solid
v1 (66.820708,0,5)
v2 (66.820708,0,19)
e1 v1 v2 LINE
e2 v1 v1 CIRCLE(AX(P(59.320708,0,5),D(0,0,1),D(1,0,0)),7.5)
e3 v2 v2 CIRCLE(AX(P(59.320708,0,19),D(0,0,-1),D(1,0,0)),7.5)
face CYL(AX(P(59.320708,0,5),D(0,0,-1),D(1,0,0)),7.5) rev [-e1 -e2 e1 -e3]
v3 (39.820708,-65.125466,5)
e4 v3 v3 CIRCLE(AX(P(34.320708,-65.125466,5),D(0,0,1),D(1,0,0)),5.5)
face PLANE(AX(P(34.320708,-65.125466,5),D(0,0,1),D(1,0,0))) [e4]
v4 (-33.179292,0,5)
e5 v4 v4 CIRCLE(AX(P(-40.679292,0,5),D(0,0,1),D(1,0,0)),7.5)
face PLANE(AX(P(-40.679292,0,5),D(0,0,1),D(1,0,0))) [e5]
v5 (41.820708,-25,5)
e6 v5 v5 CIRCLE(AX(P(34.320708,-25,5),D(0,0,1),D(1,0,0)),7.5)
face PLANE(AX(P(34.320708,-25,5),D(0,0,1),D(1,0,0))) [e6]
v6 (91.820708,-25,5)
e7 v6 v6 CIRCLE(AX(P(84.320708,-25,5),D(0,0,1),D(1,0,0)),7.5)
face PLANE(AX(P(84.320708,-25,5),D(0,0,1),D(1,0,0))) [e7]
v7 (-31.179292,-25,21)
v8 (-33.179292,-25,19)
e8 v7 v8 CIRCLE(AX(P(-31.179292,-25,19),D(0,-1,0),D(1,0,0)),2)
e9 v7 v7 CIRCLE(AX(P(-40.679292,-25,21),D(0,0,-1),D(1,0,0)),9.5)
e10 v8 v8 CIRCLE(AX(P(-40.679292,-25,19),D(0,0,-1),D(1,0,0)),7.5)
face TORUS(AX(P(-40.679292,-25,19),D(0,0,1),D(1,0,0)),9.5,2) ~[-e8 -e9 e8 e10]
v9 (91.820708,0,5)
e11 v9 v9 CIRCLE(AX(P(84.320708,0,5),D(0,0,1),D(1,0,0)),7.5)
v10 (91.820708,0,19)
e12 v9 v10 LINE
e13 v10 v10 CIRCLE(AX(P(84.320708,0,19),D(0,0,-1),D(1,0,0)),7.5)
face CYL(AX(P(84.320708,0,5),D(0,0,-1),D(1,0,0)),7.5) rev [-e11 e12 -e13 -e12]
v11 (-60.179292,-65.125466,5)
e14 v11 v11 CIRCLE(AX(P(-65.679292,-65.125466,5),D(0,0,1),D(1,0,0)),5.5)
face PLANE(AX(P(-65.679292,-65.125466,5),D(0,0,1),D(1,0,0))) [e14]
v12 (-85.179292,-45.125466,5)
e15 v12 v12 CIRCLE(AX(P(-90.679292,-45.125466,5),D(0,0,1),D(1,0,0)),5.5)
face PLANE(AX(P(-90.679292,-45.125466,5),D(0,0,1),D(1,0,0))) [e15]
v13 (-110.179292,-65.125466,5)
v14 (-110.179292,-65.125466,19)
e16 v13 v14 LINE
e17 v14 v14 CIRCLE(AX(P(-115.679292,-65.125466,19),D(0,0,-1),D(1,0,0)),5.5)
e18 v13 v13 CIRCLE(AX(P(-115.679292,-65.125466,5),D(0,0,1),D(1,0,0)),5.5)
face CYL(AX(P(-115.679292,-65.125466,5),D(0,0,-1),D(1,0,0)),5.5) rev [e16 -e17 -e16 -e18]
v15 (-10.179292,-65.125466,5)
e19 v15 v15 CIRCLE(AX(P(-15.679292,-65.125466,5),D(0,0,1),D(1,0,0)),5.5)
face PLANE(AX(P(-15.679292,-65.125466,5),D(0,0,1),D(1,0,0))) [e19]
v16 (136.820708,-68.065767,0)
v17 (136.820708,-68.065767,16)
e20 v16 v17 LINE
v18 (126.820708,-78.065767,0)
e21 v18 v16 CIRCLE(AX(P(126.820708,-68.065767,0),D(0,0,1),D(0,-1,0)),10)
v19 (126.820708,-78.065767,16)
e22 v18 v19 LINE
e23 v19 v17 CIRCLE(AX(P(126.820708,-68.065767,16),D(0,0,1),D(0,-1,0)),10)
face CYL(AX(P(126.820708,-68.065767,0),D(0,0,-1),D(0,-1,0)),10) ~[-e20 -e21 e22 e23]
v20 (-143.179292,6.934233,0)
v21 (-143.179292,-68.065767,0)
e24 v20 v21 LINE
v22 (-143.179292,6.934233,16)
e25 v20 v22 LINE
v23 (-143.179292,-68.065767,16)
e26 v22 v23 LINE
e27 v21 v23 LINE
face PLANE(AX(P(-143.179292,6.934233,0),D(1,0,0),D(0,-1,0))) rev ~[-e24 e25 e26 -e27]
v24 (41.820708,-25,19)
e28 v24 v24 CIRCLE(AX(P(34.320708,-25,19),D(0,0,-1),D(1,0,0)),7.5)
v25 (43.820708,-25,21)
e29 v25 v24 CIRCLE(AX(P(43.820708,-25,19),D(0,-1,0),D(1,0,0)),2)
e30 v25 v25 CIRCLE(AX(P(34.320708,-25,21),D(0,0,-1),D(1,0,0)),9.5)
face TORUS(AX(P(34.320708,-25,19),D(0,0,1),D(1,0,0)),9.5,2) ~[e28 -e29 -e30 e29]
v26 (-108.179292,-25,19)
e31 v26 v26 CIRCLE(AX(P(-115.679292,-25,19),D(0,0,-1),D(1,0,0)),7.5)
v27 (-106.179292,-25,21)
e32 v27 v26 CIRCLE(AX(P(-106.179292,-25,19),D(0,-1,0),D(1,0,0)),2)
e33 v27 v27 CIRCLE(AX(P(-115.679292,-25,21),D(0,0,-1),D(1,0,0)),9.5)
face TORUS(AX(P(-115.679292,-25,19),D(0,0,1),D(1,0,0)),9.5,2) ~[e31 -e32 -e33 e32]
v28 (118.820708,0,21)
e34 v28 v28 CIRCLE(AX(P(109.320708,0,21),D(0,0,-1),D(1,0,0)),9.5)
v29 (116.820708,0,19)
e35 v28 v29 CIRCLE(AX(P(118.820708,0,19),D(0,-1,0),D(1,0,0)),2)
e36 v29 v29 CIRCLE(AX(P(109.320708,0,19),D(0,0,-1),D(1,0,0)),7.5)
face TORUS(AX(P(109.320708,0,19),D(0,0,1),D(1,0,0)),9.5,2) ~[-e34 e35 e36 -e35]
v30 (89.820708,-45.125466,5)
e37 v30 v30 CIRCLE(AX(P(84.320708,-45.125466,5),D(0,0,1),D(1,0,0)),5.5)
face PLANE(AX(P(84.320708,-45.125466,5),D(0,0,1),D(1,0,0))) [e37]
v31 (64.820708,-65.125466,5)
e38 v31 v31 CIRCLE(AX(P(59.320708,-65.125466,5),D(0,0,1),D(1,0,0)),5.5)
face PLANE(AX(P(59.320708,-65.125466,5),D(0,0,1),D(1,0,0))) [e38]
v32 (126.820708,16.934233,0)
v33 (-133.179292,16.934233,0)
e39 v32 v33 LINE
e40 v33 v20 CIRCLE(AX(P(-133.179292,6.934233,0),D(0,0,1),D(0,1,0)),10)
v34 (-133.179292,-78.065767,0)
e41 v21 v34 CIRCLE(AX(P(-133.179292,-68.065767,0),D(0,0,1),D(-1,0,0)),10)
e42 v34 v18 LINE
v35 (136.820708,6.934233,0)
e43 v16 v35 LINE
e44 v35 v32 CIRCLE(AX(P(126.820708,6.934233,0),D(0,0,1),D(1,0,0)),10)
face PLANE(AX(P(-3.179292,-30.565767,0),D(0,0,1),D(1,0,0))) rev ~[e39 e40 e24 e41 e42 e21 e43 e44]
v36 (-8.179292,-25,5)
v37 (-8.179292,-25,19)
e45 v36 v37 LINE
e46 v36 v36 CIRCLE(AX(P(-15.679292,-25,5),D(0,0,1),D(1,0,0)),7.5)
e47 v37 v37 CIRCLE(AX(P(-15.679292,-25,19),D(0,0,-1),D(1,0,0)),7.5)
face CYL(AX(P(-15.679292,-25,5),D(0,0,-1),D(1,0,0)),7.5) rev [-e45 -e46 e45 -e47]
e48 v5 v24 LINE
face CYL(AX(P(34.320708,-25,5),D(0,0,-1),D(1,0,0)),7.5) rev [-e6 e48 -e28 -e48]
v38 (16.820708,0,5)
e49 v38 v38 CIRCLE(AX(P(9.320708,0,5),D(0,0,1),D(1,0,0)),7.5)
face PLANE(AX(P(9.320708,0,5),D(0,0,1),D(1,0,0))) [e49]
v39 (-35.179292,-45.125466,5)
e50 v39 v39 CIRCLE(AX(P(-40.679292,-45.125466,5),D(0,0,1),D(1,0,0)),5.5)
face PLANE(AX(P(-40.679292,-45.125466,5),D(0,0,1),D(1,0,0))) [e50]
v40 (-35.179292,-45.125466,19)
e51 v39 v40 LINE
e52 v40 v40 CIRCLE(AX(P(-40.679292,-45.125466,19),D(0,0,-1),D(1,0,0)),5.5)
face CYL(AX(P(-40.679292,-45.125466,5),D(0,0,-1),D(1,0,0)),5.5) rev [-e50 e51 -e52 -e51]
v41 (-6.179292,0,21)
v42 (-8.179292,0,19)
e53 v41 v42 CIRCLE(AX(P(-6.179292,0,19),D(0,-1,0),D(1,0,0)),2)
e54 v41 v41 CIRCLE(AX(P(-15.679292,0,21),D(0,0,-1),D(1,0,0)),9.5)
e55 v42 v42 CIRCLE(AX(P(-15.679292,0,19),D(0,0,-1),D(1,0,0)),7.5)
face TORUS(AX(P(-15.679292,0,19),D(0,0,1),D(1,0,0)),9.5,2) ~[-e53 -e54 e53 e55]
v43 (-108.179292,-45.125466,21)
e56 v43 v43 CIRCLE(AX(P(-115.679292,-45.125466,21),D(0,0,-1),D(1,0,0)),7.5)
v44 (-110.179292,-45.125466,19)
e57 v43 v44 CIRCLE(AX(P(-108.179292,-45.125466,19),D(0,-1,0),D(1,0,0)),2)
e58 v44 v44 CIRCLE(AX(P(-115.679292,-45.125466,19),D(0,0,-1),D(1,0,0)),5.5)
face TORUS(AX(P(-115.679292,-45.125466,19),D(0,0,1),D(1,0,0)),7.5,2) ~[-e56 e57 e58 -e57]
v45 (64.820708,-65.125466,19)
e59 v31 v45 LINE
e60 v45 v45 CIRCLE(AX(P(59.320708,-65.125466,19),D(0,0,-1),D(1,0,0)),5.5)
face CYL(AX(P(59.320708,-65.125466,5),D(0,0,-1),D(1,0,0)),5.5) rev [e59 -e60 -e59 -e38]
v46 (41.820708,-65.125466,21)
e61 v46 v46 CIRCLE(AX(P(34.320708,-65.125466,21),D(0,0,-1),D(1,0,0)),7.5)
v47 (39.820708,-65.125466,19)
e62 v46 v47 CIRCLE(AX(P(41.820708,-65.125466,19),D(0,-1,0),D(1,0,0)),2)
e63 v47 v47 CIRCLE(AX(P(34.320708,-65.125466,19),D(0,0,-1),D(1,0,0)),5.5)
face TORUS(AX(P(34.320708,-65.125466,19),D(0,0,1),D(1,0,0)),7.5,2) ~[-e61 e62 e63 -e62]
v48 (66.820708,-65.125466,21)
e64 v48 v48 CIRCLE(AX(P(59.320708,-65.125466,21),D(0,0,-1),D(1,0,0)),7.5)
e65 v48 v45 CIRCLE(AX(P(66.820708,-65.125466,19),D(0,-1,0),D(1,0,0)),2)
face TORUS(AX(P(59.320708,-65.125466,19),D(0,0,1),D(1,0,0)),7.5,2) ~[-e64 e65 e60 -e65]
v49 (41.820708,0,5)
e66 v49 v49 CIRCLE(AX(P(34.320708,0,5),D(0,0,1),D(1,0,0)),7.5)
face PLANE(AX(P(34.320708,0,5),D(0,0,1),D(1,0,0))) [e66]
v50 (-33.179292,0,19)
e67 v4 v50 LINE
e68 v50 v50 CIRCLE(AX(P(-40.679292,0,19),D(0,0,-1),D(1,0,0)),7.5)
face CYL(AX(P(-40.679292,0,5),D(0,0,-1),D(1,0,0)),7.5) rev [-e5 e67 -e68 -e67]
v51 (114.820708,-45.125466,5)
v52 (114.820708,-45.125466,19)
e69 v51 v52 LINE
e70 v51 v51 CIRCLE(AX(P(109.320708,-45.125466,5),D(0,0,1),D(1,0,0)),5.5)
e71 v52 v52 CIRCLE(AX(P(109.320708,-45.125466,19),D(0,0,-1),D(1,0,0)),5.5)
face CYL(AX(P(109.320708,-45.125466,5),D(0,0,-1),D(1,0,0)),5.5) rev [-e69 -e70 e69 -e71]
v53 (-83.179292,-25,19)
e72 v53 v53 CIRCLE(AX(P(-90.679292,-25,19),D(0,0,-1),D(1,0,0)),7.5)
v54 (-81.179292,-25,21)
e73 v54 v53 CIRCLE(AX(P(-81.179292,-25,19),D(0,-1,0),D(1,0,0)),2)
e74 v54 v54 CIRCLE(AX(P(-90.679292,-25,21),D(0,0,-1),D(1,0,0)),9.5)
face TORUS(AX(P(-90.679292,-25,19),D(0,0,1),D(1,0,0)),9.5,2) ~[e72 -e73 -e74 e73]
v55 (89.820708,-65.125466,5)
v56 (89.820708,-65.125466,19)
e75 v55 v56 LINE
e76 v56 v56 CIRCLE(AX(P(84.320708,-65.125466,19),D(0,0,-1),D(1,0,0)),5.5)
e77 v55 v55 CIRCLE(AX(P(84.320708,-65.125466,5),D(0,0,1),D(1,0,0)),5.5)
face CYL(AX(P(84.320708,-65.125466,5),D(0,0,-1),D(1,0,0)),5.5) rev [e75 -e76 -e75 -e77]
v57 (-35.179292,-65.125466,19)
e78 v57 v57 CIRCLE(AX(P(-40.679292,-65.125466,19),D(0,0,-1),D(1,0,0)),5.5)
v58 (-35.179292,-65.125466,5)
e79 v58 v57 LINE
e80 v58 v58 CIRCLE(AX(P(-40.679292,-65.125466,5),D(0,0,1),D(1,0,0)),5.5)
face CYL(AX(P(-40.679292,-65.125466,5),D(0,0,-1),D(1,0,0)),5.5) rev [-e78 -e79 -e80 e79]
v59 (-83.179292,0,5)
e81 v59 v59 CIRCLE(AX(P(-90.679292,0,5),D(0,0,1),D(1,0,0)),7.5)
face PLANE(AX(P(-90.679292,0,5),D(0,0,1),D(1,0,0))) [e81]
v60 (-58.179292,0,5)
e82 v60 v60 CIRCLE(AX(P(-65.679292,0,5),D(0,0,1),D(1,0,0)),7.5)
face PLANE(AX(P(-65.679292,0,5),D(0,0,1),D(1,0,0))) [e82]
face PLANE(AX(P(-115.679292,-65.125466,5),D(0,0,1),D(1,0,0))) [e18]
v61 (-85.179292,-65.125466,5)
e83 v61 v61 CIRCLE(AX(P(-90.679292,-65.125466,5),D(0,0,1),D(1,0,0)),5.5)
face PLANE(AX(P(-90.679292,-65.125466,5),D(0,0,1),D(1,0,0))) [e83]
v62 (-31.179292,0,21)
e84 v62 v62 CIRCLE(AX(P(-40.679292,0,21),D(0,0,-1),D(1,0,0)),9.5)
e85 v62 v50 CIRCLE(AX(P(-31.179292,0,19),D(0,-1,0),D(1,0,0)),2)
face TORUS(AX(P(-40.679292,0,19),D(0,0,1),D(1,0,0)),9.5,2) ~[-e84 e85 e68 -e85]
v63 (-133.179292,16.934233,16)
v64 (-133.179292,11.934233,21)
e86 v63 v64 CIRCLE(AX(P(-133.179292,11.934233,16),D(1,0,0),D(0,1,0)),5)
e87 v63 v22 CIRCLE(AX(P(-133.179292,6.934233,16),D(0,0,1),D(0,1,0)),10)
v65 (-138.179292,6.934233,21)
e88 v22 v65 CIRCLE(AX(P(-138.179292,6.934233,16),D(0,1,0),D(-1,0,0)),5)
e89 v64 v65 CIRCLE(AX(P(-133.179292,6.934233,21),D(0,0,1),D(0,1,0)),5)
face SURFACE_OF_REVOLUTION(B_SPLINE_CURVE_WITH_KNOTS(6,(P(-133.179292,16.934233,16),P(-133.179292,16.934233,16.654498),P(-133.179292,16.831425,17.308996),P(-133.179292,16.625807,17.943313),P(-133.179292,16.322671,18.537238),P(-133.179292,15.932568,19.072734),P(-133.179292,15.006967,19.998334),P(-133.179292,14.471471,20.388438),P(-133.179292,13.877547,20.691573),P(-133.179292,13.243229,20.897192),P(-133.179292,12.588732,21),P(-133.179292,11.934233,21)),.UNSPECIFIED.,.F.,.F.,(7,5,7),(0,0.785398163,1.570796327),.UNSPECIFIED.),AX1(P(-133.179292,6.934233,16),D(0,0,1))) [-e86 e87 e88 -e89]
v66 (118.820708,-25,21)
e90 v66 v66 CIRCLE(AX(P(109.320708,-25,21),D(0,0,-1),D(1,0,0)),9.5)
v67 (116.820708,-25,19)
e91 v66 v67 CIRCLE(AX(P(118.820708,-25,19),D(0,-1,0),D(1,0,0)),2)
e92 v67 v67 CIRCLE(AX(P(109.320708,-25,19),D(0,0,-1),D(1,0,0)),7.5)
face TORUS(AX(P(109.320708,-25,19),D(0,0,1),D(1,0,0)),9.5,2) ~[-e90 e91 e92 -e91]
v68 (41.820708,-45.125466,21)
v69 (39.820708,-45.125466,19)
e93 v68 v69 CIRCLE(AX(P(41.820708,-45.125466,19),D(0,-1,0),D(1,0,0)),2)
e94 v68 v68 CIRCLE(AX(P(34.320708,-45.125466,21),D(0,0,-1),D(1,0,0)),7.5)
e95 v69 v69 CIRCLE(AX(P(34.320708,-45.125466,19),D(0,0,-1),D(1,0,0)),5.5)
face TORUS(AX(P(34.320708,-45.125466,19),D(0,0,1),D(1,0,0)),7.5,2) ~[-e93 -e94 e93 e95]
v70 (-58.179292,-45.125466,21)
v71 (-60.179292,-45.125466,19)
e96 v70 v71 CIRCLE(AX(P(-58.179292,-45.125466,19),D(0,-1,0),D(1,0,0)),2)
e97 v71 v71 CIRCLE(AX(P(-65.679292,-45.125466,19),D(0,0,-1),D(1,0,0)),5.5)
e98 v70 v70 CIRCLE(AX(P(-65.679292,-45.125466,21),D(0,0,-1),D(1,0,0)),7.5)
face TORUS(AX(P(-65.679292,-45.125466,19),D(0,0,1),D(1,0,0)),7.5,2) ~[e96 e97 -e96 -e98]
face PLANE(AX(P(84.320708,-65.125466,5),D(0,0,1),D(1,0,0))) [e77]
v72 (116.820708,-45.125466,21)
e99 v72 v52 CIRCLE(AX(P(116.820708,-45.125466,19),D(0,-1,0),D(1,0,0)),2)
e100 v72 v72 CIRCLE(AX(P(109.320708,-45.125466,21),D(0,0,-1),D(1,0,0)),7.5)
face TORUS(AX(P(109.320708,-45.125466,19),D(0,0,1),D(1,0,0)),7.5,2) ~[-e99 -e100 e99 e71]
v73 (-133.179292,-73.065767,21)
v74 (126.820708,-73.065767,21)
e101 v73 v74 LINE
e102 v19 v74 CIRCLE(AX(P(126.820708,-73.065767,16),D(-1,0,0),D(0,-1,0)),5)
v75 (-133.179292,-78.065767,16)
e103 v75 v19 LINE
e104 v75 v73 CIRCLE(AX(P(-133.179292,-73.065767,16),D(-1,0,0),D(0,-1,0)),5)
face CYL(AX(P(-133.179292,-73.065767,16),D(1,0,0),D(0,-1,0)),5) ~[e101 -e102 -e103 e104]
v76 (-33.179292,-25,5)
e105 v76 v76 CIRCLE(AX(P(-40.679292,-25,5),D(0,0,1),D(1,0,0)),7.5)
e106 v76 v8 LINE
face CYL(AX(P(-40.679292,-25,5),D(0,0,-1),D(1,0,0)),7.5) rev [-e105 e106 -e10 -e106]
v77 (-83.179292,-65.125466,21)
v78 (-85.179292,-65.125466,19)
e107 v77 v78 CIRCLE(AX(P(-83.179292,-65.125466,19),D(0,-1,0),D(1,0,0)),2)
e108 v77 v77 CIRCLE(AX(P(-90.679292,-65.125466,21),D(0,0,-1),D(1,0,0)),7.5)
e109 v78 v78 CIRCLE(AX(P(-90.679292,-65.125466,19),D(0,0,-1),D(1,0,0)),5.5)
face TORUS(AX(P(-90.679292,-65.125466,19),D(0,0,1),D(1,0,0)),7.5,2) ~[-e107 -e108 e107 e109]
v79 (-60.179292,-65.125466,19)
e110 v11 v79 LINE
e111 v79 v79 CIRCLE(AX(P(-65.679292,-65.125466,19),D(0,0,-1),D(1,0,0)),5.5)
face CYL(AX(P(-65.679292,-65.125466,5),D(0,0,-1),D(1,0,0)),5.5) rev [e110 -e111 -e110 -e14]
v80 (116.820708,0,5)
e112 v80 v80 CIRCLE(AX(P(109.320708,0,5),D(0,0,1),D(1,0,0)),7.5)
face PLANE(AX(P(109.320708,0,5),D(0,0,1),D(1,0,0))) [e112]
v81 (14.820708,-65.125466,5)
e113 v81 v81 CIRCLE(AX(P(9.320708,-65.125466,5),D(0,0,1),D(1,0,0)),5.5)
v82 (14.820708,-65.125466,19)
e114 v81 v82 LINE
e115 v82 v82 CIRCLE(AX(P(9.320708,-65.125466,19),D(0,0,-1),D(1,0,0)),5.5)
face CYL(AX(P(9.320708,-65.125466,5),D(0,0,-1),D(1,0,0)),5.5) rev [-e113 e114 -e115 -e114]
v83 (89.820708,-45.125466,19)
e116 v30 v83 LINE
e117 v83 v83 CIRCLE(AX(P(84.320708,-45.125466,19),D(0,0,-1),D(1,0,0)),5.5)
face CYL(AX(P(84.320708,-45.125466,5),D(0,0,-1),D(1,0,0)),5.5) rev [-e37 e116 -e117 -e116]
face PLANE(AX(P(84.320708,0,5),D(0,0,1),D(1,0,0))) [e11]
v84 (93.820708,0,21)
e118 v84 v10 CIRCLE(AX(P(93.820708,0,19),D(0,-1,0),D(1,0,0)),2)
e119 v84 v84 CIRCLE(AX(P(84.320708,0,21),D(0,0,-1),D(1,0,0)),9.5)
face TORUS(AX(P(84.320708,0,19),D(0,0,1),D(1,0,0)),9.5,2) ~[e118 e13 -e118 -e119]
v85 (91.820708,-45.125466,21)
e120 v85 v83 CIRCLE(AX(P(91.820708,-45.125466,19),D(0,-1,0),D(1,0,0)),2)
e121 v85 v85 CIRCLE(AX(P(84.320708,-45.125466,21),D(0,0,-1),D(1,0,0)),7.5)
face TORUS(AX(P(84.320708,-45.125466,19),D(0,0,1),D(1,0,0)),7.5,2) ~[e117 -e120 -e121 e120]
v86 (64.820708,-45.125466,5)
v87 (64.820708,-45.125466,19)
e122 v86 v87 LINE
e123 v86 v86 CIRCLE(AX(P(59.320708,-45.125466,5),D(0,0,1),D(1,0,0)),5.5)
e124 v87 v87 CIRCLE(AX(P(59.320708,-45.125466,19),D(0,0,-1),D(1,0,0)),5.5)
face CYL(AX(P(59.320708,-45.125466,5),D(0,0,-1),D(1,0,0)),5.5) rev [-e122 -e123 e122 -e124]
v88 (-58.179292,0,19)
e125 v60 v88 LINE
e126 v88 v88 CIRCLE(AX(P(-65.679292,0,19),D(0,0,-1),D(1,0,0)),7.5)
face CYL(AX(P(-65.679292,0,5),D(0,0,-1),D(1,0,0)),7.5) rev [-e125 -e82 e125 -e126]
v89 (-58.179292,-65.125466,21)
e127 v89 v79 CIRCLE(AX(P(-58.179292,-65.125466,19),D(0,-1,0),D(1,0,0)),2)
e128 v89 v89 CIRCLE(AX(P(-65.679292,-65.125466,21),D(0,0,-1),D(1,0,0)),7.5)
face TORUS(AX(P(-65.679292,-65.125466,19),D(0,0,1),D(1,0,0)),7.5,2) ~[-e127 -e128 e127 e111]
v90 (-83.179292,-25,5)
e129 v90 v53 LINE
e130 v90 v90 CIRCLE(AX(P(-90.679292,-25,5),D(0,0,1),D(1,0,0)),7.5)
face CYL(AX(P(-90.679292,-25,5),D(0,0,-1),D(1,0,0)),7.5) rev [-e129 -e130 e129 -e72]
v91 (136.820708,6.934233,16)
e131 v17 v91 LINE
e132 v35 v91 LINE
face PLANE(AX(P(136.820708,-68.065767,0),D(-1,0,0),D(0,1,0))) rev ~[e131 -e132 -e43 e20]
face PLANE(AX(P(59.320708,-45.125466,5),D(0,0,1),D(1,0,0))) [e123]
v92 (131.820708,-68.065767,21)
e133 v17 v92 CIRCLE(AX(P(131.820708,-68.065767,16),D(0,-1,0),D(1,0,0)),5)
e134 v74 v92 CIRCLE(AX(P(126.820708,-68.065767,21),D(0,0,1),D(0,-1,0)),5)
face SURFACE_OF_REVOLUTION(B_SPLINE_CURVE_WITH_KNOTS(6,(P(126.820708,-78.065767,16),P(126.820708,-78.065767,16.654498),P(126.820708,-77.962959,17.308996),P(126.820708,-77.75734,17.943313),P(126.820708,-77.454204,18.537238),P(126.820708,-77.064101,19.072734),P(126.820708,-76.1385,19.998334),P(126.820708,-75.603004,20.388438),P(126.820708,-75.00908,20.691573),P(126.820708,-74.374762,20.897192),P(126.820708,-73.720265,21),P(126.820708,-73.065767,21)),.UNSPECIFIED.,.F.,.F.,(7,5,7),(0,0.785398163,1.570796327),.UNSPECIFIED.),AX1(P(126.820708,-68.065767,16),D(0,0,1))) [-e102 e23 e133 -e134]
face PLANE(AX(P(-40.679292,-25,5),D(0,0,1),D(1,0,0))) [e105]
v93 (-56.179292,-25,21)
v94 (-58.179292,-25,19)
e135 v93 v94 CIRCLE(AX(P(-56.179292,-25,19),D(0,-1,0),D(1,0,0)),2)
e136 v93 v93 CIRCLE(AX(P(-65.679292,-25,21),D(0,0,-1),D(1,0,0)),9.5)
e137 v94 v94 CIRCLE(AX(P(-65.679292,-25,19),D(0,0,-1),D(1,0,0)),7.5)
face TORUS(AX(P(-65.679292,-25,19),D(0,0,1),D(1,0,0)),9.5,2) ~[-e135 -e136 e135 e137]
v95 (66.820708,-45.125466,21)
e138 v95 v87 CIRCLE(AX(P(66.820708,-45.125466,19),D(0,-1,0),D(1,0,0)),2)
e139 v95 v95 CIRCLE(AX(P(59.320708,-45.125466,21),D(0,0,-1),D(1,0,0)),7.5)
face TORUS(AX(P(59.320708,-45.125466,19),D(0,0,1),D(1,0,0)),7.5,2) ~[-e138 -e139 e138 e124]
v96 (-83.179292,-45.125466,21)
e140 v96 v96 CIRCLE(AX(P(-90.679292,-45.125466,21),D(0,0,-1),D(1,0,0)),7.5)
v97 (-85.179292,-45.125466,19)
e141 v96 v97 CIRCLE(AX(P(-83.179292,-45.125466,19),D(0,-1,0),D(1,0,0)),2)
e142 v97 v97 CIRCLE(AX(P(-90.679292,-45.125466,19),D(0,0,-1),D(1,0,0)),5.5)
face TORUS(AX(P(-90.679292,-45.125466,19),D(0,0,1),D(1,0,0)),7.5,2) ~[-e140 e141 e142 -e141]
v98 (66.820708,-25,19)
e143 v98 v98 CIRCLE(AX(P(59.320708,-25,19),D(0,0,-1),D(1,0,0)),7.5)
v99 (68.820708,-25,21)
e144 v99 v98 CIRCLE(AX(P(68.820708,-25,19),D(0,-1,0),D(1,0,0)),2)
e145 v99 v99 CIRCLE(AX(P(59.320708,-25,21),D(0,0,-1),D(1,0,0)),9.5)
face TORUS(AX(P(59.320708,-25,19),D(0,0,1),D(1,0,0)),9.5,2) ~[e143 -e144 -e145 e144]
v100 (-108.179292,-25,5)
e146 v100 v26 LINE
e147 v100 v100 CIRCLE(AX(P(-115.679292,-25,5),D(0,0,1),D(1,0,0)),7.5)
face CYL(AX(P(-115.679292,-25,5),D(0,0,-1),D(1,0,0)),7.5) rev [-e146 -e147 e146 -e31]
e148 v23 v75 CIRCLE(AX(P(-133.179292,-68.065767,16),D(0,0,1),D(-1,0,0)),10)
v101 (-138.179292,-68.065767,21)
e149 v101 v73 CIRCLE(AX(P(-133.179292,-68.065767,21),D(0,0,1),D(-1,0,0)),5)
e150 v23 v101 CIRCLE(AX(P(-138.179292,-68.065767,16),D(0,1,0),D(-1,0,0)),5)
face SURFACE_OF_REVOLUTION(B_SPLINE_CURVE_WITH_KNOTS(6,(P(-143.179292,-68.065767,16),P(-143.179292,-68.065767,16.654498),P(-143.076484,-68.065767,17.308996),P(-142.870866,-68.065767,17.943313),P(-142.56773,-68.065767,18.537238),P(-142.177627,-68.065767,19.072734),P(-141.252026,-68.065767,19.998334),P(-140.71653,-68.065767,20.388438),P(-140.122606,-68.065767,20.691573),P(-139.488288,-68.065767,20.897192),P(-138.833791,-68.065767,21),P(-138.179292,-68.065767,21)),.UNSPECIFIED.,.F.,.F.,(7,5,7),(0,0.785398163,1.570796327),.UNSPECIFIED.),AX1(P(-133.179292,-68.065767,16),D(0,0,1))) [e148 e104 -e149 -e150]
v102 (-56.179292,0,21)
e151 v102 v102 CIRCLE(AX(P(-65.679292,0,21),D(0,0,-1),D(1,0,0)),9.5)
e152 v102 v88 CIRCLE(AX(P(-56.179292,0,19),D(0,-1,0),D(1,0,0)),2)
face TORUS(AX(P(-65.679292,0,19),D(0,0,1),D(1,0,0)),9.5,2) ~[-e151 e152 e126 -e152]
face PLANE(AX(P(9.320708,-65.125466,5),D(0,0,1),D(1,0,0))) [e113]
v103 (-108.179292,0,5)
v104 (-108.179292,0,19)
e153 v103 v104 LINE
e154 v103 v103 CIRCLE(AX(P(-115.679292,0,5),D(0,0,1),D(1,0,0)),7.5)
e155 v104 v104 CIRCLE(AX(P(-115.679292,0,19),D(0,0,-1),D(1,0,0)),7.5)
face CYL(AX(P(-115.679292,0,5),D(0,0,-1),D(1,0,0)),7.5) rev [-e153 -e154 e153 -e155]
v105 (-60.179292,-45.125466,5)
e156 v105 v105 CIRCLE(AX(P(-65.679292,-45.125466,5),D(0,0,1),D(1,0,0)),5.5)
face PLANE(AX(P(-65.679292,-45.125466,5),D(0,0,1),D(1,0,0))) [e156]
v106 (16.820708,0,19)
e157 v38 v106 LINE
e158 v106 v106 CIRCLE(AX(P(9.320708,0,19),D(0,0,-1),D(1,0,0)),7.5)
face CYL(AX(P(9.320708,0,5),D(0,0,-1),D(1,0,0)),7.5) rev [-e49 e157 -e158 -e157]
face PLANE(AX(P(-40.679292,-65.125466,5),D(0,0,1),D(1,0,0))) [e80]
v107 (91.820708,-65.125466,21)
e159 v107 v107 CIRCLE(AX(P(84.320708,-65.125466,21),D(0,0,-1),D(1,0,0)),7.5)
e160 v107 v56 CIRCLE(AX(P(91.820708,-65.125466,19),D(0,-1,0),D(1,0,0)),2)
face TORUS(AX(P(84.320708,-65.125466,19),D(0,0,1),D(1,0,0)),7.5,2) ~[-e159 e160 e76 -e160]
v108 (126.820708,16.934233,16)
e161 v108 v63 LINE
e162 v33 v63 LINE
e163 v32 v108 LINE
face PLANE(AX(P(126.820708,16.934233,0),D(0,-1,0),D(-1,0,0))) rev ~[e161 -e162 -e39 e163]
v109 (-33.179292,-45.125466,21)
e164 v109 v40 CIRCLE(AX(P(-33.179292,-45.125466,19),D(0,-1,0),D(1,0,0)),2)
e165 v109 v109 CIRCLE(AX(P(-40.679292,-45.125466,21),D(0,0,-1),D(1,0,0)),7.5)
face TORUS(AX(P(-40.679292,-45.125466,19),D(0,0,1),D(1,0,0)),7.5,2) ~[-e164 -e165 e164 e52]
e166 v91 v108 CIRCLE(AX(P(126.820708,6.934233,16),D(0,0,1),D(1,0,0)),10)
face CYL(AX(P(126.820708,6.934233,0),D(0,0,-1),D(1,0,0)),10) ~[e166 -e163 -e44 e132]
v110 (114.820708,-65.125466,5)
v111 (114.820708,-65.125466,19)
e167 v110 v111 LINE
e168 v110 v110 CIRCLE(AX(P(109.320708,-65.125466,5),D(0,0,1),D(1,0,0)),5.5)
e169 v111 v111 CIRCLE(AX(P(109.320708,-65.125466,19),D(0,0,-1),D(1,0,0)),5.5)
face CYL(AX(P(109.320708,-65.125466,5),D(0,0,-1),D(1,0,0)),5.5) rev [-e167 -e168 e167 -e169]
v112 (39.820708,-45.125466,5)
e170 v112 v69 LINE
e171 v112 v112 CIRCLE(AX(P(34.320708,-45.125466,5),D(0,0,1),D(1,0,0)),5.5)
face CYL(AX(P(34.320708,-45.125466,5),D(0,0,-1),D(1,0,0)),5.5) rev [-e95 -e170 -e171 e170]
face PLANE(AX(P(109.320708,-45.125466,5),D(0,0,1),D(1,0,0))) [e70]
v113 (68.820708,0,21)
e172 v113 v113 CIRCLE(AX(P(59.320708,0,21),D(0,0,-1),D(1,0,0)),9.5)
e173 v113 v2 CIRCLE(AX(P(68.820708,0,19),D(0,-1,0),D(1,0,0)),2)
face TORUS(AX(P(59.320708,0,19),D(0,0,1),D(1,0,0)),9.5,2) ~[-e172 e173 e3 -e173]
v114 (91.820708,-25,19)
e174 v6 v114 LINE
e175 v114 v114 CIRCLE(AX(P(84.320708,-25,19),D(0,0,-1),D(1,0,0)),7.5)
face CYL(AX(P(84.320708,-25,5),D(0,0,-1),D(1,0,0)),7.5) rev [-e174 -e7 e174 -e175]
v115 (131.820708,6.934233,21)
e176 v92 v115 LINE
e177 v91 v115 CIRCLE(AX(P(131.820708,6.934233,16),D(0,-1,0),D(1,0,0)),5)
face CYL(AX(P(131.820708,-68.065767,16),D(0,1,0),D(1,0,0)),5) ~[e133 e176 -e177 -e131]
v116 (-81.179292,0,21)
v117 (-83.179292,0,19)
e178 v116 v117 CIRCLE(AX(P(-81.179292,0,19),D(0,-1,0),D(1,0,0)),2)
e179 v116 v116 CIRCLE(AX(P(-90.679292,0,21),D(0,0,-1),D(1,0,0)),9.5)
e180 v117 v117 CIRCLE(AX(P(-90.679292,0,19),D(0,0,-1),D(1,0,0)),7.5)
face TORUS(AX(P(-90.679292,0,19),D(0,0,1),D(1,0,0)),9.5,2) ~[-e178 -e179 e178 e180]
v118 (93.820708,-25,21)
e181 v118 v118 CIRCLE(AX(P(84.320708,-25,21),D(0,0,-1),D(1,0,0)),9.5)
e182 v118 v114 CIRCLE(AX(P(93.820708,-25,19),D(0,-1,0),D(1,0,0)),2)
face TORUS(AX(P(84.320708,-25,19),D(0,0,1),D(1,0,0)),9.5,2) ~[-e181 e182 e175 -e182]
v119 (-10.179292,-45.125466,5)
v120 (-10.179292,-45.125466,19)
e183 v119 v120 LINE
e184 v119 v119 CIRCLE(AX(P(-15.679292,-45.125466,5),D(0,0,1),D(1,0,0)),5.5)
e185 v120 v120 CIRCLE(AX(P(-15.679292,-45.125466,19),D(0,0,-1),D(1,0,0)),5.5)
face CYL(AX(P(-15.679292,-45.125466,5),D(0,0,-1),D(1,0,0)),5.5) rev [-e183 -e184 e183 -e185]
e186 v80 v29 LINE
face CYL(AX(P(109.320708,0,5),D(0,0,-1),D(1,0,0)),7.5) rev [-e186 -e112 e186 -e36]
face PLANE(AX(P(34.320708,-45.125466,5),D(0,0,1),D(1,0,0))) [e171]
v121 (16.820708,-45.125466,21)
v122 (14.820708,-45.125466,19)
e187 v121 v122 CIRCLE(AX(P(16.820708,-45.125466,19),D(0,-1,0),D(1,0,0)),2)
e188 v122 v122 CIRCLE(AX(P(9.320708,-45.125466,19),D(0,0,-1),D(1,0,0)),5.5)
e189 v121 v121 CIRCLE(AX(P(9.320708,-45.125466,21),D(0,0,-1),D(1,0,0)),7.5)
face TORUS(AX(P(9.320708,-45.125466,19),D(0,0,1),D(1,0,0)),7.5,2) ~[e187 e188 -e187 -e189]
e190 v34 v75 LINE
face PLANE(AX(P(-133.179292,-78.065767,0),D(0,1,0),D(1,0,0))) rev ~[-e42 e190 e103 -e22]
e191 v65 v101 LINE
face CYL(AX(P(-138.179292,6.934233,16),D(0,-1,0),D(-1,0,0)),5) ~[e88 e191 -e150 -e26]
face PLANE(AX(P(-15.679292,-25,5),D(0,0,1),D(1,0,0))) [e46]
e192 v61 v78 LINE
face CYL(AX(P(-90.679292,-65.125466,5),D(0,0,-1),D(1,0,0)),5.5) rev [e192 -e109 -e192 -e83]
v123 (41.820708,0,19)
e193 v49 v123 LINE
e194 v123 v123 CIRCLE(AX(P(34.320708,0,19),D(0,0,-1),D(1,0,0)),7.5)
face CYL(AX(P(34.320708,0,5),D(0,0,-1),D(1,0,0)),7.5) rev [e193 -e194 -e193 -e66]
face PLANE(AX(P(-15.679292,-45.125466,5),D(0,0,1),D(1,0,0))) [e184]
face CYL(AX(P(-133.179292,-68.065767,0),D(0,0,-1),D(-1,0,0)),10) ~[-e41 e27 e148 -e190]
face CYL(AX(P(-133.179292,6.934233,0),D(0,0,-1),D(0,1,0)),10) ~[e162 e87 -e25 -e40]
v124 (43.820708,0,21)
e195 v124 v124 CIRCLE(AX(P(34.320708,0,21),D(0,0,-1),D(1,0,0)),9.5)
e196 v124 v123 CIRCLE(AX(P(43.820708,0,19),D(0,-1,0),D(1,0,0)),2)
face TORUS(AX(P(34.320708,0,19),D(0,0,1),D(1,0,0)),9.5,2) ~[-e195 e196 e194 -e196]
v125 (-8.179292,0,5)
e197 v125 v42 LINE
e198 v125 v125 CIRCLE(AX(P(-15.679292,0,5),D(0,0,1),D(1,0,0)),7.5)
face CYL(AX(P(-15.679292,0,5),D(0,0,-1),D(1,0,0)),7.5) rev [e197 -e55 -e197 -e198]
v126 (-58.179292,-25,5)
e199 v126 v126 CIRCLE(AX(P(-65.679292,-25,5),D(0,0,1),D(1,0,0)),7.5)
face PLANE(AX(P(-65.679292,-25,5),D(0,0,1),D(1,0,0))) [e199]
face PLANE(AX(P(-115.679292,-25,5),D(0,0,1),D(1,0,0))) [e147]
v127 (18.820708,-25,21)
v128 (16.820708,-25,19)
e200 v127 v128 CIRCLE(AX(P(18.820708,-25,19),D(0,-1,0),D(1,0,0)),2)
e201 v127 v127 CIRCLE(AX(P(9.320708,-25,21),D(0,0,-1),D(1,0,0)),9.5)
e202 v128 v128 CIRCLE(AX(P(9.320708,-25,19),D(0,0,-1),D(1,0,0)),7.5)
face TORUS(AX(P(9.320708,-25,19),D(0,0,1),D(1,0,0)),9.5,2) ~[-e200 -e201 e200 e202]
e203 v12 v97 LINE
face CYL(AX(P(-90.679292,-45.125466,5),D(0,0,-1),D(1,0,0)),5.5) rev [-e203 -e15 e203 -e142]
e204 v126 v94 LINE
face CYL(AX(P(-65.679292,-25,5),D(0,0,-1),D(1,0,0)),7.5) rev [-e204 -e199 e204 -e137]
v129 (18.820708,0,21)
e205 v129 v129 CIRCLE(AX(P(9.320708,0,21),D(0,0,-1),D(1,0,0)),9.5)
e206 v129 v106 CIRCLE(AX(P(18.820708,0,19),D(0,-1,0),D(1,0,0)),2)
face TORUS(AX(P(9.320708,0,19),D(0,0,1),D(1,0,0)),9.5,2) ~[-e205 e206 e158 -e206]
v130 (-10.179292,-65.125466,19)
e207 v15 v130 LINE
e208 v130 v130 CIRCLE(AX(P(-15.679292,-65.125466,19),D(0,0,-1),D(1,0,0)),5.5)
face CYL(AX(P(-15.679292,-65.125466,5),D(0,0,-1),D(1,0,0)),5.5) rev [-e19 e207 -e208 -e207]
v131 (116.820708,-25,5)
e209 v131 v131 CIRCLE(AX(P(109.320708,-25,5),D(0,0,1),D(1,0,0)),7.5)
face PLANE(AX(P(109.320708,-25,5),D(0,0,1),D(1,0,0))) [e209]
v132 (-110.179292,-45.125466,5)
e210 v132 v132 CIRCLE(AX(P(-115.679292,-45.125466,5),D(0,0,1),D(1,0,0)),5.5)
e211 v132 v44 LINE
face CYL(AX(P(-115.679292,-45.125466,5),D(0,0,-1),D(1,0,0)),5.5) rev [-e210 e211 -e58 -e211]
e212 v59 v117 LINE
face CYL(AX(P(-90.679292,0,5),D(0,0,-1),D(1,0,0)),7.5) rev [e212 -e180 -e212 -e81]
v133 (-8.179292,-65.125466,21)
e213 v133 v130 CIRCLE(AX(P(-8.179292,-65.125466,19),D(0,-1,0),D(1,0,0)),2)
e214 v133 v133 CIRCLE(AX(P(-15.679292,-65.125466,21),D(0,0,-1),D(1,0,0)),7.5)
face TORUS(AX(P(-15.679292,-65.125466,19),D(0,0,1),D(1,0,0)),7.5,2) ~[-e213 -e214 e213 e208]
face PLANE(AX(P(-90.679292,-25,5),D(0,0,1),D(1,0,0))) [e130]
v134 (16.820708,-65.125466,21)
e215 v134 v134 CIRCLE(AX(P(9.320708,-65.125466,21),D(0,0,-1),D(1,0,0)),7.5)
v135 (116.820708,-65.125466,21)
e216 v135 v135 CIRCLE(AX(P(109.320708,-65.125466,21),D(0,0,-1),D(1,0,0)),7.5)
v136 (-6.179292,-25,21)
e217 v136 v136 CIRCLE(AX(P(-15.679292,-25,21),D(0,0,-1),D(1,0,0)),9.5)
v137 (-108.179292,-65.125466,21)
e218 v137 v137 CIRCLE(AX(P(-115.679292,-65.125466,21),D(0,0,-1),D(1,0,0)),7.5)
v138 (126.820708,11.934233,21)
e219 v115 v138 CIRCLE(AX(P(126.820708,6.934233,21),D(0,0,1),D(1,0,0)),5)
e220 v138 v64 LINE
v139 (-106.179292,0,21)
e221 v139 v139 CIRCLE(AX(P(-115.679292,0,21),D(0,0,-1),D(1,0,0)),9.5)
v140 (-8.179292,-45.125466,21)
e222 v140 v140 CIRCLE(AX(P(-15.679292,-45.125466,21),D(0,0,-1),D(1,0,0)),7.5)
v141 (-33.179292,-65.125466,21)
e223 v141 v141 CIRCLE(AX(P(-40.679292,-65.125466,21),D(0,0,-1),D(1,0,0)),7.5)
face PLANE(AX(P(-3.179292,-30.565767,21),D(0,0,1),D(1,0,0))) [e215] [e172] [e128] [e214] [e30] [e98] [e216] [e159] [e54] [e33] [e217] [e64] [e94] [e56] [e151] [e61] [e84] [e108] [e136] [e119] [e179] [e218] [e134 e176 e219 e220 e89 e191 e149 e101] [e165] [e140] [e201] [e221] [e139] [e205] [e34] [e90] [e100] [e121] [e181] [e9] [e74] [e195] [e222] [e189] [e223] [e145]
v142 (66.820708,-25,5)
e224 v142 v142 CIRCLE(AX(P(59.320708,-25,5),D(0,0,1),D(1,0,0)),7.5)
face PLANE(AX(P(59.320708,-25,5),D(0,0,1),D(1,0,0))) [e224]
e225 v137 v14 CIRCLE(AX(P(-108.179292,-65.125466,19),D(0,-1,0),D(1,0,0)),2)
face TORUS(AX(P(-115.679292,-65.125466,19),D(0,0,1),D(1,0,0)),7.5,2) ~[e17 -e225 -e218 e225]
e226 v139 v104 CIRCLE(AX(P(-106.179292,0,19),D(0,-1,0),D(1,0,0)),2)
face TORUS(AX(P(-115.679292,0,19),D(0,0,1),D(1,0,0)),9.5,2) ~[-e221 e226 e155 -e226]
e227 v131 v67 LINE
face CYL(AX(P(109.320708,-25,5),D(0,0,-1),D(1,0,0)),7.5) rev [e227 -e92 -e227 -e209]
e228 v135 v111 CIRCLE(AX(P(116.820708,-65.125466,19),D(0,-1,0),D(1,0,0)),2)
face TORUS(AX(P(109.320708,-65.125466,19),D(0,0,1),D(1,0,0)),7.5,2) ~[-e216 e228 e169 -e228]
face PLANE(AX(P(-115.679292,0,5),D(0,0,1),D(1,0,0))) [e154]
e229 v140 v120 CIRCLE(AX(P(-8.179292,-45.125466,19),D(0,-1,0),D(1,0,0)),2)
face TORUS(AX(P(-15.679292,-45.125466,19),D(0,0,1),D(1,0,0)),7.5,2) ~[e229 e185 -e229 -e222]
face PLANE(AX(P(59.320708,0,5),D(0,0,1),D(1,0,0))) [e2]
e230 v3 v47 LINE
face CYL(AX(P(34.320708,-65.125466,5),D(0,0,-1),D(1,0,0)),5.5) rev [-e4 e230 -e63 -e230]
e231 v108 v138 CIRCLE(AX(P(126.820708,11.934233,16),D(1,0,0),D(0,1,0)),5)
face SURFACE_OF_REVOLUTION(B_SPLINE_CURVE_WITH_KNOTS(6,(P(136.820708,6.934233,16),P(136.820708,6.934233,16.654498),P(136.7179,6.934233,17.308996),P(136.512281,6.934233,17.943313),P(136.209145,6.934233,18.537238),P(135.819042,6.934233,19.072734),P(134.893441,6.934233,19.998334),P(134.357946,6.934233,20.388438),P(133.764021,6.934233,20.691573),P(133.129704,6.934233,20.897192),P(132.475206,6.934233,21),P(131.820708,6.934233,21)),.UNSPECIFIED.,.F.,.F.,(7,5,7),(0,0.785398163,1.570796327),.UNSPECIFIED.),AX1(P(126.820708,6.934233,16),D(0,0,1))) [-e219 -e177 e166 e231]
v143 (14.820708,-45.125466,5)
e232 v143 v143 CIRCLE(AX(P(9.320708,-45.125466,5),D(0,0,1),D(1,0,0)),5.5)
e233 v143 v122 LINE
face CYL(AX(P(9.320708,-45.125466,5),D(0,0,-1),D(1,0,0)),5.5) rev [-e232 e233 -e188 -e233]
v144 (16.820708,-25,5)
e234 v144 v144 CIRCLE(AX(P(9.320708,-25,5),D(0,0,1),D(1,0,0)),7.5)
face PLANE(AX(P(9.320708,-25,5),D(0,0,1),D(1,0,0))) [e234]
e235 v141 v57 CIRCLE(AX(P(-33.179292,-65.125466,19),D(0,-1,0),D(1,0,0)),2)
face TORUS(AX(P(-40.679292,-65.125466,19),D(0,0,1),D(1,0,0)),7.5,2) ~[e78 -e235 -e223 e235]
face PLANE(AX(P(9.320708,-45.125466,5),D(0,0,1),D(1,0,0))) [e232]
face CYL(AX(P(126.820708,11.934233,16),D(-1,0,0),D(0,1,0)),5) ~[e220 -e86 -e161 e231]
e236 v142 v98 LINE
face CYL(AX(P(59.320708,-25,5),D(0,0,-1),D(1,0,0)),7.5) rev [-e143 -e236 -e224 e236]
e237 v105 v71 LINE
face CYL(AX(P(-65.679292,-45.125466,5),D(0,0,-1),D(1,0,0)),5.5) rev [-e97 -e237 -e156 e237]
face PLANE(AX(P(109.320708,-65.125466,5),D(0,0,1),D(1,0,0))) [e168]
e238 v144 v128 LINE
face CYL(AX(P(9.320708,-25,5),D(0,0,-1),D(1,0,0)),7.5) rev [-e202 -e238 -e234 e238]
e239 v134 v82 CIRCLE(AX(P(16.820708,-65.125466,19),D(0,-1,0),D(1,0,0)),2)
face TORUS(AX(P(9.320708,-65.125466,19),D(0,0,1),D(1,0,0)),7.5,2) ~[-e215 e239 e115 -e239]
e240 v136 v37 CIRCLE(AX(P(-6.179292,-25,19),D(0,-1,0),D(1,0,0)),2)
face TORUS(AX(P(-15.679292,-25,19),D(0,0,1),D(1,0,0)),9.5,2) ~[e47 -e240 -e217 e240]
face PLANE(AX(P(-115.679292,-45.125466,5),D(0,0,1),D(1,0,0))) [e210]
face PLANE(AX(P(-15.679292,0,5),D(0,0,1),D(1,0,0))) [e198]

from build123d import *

# Parameters (mm, degrees)
F1_DEPTH = 21
F3_START = 5
F2_R     = 7.5
F3_DEPTH = 17
F2_R_2   = 5.5
F4_R     = 5
F6_R     = 2


with BuildPart() as f1:
    # F0 (on Top) → F1 (new body)
    with BuildSketch(Plane.XY):
        with BuildLine():
            Line((126.8207076937, 16.9342333724), (-133.1792923063, 16.9342333724))
            ThreePointArc((-133.1792923063, 16.9342333724), (-140.2503601182, 14.0053011843), (-143.1792923063, 6.9342333724))
            Line((-143.1792923063, 6.9342333724), (-143.1792923063, -68.0657666276))
            ThreePointArc((-143.1792923063, -68.0657666276), (-140.2503601182, -75.1368344395), (-133.1792923063, -78.0657666276))
            Line((-133.1792923063, -78.0657666276), (126.8207076937, -78.0657666276))
            ThreePointArc((126.8207076937, -78.0657666276), (133.8917755056, -75.1368344395), (136.8207076937, -68.0657666276))
            Line((136.8207076937, -68.0657666276), (136.8207076937, 6.9342333724))
            ThreePointArc((136.8207076937, 6.9342333724), (133.8917755056, 14.0053011843), (126.8207076937, 16.9342333724))
        make_face()
    extrude(amount=F1_DEPTH)

    # F4
    f4_edges = [f1.edges().sort_by_distance(p)[0] for p in [
        (-3.179292, 16.934233, 21),
        (-140.25036, 14.005301, 21),
        (-143.179292, -30.565767, 21),
        (-140.25036, -75.136834, 21),
        (-3.179292, -78.065767, 21),
        (133.891776, -75.136834, 21),
        (136.820708, -30.565767, 21),
        (133.891776, 14.005301, 21),
    ]]
    fillet(f4_edges, radius=F4_R)


with BuildPart() as f3:
    # F2 (on Top) → F3 (new body)
    with BuildSketch(Plane.XY.offset(F3_START)):
        with Locations((-115.6792923063, 0)):
            Circle(F2_R)
    extrude(amount=F3_DEPTH)


with BuildPart() as f3b:
    # F2 (on Top) → F3, piece 2 (new body)
    with BuildSketch(Plane.XY.offset(F3_START)):
        with Locations((-115.6792923063, -25)):
            Circle(F2_R)
    extrude(amount=F3_DEPTH)


with BuildPart() as f3c:
    # F2 (on Top) → F3, piece 3 (new body)
    with BuildSketch(Plane.XY.offset(F3_START)):
        with Locations((-90.6792923063, 0)):
            Circle(F2_R)
    extrude(amount=F3_DEPTH)


with BuildPart() as f3d:
    # F2 (on Top) → F3, piece 4 (new body)
    with BuildSketch(Plane.XY.offset(F3_START)):
        with Locations((-90.6792923063, -25)):
            Circle(F2_R)
    extrude(amount=F3_DEPTH)


with BuildPart() as f3e:
    # F2 (on Top) → F3, piece 5 (new body)
    with BuildSketch(Plane.XY.offset(F3_START)):
        with Locations((-65.6792923063, 0)):
            Circle(F2_R)
    extrude(amount=F3_DEPTH)


with BuildPart() as f3f:
    # F2 (on Top) → F3, piece 6 (new body)
    with BuildSketch(Plane.XY.offset(F3_START)):
        with Locations((-65.6792923063, -25)):
            Circle(F2_R)
    extrude(amount=F3_DEPTH)


with BuildPart() as f3g:
    # F2 (on Top) → F3, piece 7 (new body)
    with BuildSketch(Plane.XY.offset(F3_START)):
        with Locations((-40.6792923063, 0)):
            Circle(F2_R)
    extrude(amount=F3_DEPTH)


with BuildPart() as f3h:
    # F2 (on Top) → F3, piece 8 (new body)
    with BuildSketch(Plane.XY.offset(F3_START)):
        with Locations((-40.6792923063, -25)):
            Circle(F2_R)
    extrude(amount=F3_DEPTH)


with BuildPart() as f3i:
    # F2 (on Top) → F3, piece 9 (new body)
    with BuildSketch(Plane.XY.offset(F3_START)):
        with Locations((-15.6792923063, 0)):
            Circle(F2_R)
    extrude(amount=F3_DEPTH)


with BuildPart() as f3j:
    # F2 (on Top) → F3, piece 10 (new body)
    with BuildSketch(Plane.XY.offset(F3_START)):
        with Locations((-15.6792923063, -25)):
            Circle(F2_R)
    extrude(amount=F3_DEPTH)


with BuildPart() as f3k:
    # F2 (on Top) → F3, piece 11 (new body)
    with BuildSketch(Plane.XY.offset(F3_START)):
        with Locations((9.3207076937, 0)):
            Circle(F2_R)
    extrude(amount=F3_DEPTH)


with BuildPart() as f3l:
    # F2 (on Top) → F3, piece 12 (new body)
    with BuildSketch(Plane.XY.offset(F3_START)):
        with Locations((9.3207076937, -25)):
            Circle(F2_R)
    extrude(amount=F3_DEPTH)


with BuildPart() as f3m:
    # F2 (on Top) → F3, piece 13 (new body)
    with BuildSketch(Plane.XY.offset(F3_START)):
        with Locations((34.3207076937, 0)):
            Circle(F2_R)
    extrude(amount=F3_DEPTH)


with BuildPart() as f3n:
    # F2 (on Top) → F3, piece 14 (new body)
    with BuildSketch(Plane.XY.offset(F3_START)):
        with Locations((34.3207076937, -25)):
            Circle(F2_R)
    extrude(amount=F3_DEPTH)


with BuildPart() as f3o:
    # F2 (on Top) → F3, piece 15 (new body)
    with BuildSketch(Plane.XY.offset(F3_START)):
        with Locations((59.3207076937, 0)):
            Circle(F2_R)
    extrude(amount=F3_DEPTH)


with BuildPart() as f3p:
    # F2 (on Top) → F3, piece 16 (new body)
    with BuildSketch(Plane.XY.offset(F3_START)):
        with Locations((59.3207076937, -25)):
            Circle(F2_R)
    extrude(amount=F3_DEPTH)


with BuildPart() as f3q:
    # F2 (on Top) → F3, piece 17 (new body)
    with BuildSketch(Plane.XY.offset(F3_START)):
        with Locations((84.3207076937, 0)):
            Circle(F2_R)
    extrude(amount=F3_DEPTH)


with BuildPart() as f3r:
    # F2 (on Top) → F3, piece 18 (new body)
    with BuildSketch(Plane.XY.offset(F3_START)):
        with Locations((84.3207076937, -25)):
            Circle(F2_R)
    extrude(amount=F3_DEPTH)


with BuildPart() as f3s:
    # F2 (on Top) → F3, piece 19 (new body)
    with BuildSketch(Plane.XY.offset(F3_START)):
        with Locations((109.3207076937, 0)):
            Circle(F2_R)
    extrude(amount=F3_DEPTH)


with BuildPart() as f3t:
    # F2 (on Top) → F3, piece 20 (new body)
    with BuildSketch(Plane.XY.offset(F3_START)):
        with Locations((109.3207076937, -25)):
            Circle(F2_R)
    extrude(amount=F3_DEPTH)


with BuildPart() as f3u:
    # F2 (on Top) → F3, piece 21 (new body)
    with BuildSketch(Plane.XY.offset(F3_START)):
        with Locations((-115.6792923063, -45.1254658401)):
            Circle(F2_R_2)
    extrude(amount=F3_DEPTH)


with BuildPart() as f3v:
    # F2 (on Top) → F3, piece 22 (new body)
    with BuildSketch(Plane.XY.offset(F3_START)):
        with Locations((-115.6792923063, -65.1254658401)):
            Circle(F2_R_2)
    extrude(amount=F3_DEPTH)


with BuildPart() as f3w:
    # F2 (on Top) → F3, piece 23 (new body)
    with BuildSketch(Plane.XY.offset(F3_START)):
        with Locations((-90.6792923063, -45.1254658401)):
            Circle(F2_R_2)
    extrude(amount=F3_DEPTH)


with BuildPart() as f3x:
    # F2 (on Top) → F3, piece 24 (new body)
    with BuildSketch(Plane.XY.offset(F3_START)):
        with Locations((-90.6792923063, -65.1254658401)):
            Circle(F2_R_2)
    extrude(amount=F3_DEPTH)


with BuildPart() as f3y:
    # F2 (on Top) → F3, piece 25 (new body)
    with BuildSketch(Plane.XY.offset(F3_START)):
        with Locations((-65.6792923063, -45.1254658401)):
            Circle(F2_R_2)
    extrude(amount=F3_DEPTH)


with BuildPart() as f3z:
    # F2 (on Top) → F3, piece 26 (new body)
    with BuildSketch(Plane.XY.offset(F3_START)):
        with Locations((-65.6792923063, -65.1254658401)):
            Circle(F2_R_2)
    extrude(amount=F3_DEPTH)


with BuildPart() as f3ba:
    # F2 (on Top) → F3, piece 27 (new body)
    with BuildSketch(Plane.XY.offset(F3_START)):
        with Locations((-40.6792923063, -45.1254658401)):
            Circle(F2_R_2)
    extrude(amount=F3_DEPTH)


with BuildPart() as f3bb:
    # F2 (on Top) → F3, piece 28 (new body)
    with BuildSketch(Plane.XY.offset(F3_START)):
        with Locations((-40.6792923063, -65.1254658401)):
            Circle(F2_R_2)
    extrude(amount=F3_DEPTH)


with BuildPart() as f3bc:
    # F2 (on Top) → F3, piece 29 (new body)
    with BuildSketch(Plane.XY.offset(F3_START)):
        with Locations((-15.6792923063, -45.1254658401)):
            Circle(F2_R_2)
    extrude(amount=F3_DEPTH)


with BuildPart() as f3bd:
    # F2 (on Top) → F3, piece 30 (new body)
    with BuildSketch(Plane.XY.offset(F3_START)):
        with Locations((-15.6792923063, -65.1254658401)):
            Circle(F2_R_2)
    extrude(amount=F3_DEPTH)


with BuildPart() as f3be:
    # F2 (on Top) → F3, piece 31 (new body)
    with BuildSketch(Plane.XY.offset(F3_START)):
        with Locations((9.3207076937, -45.1254658401)):
            Circle(F2_R_2)
    extrude(amount=F3_DEPTH)


with BuildPart() as f3bf:
    # F2 (on Top) → F3, piece 32 (new body)
    with BuildSketch(Plane.XY.offset(F3_START)):
        with Locations((9.3207076937, -65.1254658401)):
            Circle(F2_R_2)
    extrude(amount=F3_DEPTH)


with BuildPart() as f3bg:
    # F2 (on Top) → F3, piece 33 (new body)
    with BuildSketch(Plane.XY.offset(F3_START)):
        with Locations((34.3207076937, -45.1254658401)):
            Circle(F2_R_2)
    extrude(amount=F3_DEPTH)


with BuildPart() as f3bh:
    # F2 (on Top) → F3, piece 34 (new body)
    with BuildSketch(Plane.XY.offset(F3_START)):
        with Locations((34.3207076937, -65.1254658401)):
            Circle(F2_R_2)
    extrude(amount=F3_DEPTH)


with BuildPart() as f3bi:
    # F2 (on Top) → F3, piece 35 (new body)
    with BuildSketch(Plane.XY.offset(F3_START)):
        with Locations((59.3207076937, -45.1254658401)):
            Circle(F2_R_2)
    extrude(amount=F3_DEPTH)


with BuildPart() as f3bj:
    # F2 (on Top) → F3, piece 36 (new body)
    with BuildSketch(Plane.XY.offset(F3_START)):
        with Locations((59.3207076937, -65.1254658401)):
            Circle(F2_R_2)
    extrude(amount=F3_DEPTH)


with BuildPart() as f3bk:
    # F2 (on Top) → F3, piece 37 (new body)
    with BuildSketch(Plane.XY.offset(F3_START)):
        with Locations((84.3207076937, -45.1254658401)):
            Circle(F2_R_2)
    extrude(amount=F3_DEPTH)


with BuildPart() as f3bl:
    # F2 (on Top) → F3, piece 38 (new body)
    with BuildSketch(Plane.XY.offset(F3_START)):
        with Locations((84.3207076937, -65.1254658401)):
            Circle(F2_R_2)
    extrude(amount=F3_DEPTH)


with BuildPart() as f3bm:
    # F2 (on Top) → F3, piece 39 (new body)
    with BuildSketch(Plane.XY.offset(F3_START)):
        with Locations((109.3207076937, -45.1254658401)):
            Circle(F2_R_2)
    extrude(amount=F3_DEPTH)


with BuildPart() as f3bn:
    # F2 (on Top) → F3, piece 40 (new body)
    with BuildSketch(Plane.XY.offset(F3_START)):
        with Locations((109.3207076937, -65.1254658401)):
            Circle(F2_R_2)
    extrude(amount=F3_DEPTH)


with BuildPart() as f1_1:
    add(f1.part)

    # F5: cut F3, F3b, F3c, F3d, F3e, F3f, F3g, F3h, F3i, F3j, F3k, F3l, F3m, F3n, F3o, F3p, F3q, F3r, F3s, F3t, F3u, F3v, F3w, F3x, F3y, F3z, F3ba, F3bb, F3bc, F3bd, F3be, F3bf, F3bg, F3bh, F3bi, F3bj, F3bk, F3bl, F3bm, F3bn
    add(f3.part, mode=Mode.SUBTRACT)
    add(f3b.part, mode=Mode.SUBTRACT)
    add(f3c.part, mode=Mode.SUBTRACT)
    add(f3d.part, mode=Mode.SUBTRACT)
    add(f3e.part, mode=Mode.SUBTRACT)
    add(f3f.part, mode=Mode.SUBTRACT)
    add(f3g.part, mode=Mode.SUBTRACT)
    add(f3h.part, mode=Mode.SUBTRACT)
    add(f3i.part, mode=Mode.SUBTRACT)
    add(f3j.part, mode=Mode.SUBTRACT)
    add(f3k.part, mode=Mode.SUBTRACT)
    add(f3l.part, mode=Mode.SUBTRACT)
    add(f3m.part, mode=Mode.SUBTRACT)
    add(f3n.part, mode=Mode.SUBTRACT)
    add(f3o.part, mode=Mode.SUBTRACT)
    add(f3p.part, mode=Mode.SUBTRACT)
    add(f3q.part, mode=Mode.SUBTRACT)
    add(f3r.part, mode=Mode.SUBTRACT)
    add(f3s.part, mode=Mode.SUBTRACT)
    add(f3t.part, mode=Mode.SUBTRACT)
    add(f3u.part, mode=Mode.SUBTRACT)
    add(f3v.part, mode=Mode.SUBTRACT)
    add(f3w.part, mode=Mode.SUBTRACT)
    add(f3x.part, mode=Mode.SUBTRACT)
    add(f3y.part, mode=Mode.SUBTRACT)
    add(f3z.part, mode=Mode.SUBTRACT)
    add(f3ba.part, mode=Mode.SUBTRACT)
    add(f3bb.part, mode=Mode.SUBTRACT)
    add(f3bc.part, mode=Mode.SUBTRACT)
    add(f3bd.part, mode=Mode.SUBTRACT)
    add(f3be.part, mode=Mode.SUBTRACT)
    add(f3bf.part, mode=Mode.SUBTRACT)
    add(f3bg.part, mode=Mode.SUBTRACT)
    add(f3bh.part, mode=Mode.SUBTRACT)
    add(f3bi.part, mode=Mode.SUBTRACT)
    add(f3bj.part, mode=Mode.SUBTRACT)
    add(f3bk.part, mode=Mode.SUBTRACT)
    add(f3bl.part, mode=Mode.SUBTRACT)
    add(f3bm.part, mode=Mode.SUBTRACT)
    add(f3bn.part, mode=Mode.SUBTRACT)

    # F6
    f6_edges = [f1_1.edges().sort_by_distance(p)[0] for p in [
        (-3.179292, 11.934233, 21),
        (130.356242, 10.469767, 21),
        (-136.714826, 10.469767, 21),
        (131.820708, -30.565767, 21),
        (-138.179292, -30.565767, 21),
        (130.356242, -71.601301, 21),
        (-136.714826, -71.601301, 21),
        (-3.179292, -73.065767, 21),
        (-121.179292, -65.125466, 21),
        (-96.179292, -65.125466, 21),
        (-71.179292, -65.125466, 21),
        (-46.179292, -65.125466, 21),
        (-21.179292, -65.125466, 21),
        (-121.179292, -45.125466, 21),
        (-96.179292, -45.125466, 21),
        (-71.179292, -45.125466, 21),
        (-46.179292, -45.125466, 21),
        (-21.179292, -45.125466, 21),
        (3.820708, -65.125466, 21),
        (28.820708, -65.125466, 21),
        (53.820708, -65.125466, 21),
        (78.820708, -65.125466, 21),
        (103.820708, -65.125466, 21),
        (3.820708, -45.125466, 21),
        (28.820708, -45.125466, 21),
        (53.820708, -45.125466, 21),
        (78.820708, -45.125466, 21),
        (103.820708, -45.125466, 21),
        (-123.179292, -25, 21),
        (-98.179292, -25, 21),
        (-73.179292, -25, 21),
        (-48.179292, -25, 21),
        (-23.179292, -25, 21),
        (-123.179292, 0, 21),
        (-98.179292, 0, 21),
        (-73.179292, 0, 21),
        (-48.179292, 0, 21),
        (-23.179292, 0, 21),
        (1.820708, -25, 21),
        (26.820708, -25, 21),
        (51.820708, -25, 21),
        (76.820708, -25, 21),
        (101.820708, -25, 21),
        (1.820708, 0, 21),
        (26.820708, 0, 21),
        (51.820708, 0, 21),
        (76.820708, 0, 21),
        (101.820708, 0, 21),
    ]]
    fillet(f6_edges, radius=F6_R)


solid = f1_1.part
